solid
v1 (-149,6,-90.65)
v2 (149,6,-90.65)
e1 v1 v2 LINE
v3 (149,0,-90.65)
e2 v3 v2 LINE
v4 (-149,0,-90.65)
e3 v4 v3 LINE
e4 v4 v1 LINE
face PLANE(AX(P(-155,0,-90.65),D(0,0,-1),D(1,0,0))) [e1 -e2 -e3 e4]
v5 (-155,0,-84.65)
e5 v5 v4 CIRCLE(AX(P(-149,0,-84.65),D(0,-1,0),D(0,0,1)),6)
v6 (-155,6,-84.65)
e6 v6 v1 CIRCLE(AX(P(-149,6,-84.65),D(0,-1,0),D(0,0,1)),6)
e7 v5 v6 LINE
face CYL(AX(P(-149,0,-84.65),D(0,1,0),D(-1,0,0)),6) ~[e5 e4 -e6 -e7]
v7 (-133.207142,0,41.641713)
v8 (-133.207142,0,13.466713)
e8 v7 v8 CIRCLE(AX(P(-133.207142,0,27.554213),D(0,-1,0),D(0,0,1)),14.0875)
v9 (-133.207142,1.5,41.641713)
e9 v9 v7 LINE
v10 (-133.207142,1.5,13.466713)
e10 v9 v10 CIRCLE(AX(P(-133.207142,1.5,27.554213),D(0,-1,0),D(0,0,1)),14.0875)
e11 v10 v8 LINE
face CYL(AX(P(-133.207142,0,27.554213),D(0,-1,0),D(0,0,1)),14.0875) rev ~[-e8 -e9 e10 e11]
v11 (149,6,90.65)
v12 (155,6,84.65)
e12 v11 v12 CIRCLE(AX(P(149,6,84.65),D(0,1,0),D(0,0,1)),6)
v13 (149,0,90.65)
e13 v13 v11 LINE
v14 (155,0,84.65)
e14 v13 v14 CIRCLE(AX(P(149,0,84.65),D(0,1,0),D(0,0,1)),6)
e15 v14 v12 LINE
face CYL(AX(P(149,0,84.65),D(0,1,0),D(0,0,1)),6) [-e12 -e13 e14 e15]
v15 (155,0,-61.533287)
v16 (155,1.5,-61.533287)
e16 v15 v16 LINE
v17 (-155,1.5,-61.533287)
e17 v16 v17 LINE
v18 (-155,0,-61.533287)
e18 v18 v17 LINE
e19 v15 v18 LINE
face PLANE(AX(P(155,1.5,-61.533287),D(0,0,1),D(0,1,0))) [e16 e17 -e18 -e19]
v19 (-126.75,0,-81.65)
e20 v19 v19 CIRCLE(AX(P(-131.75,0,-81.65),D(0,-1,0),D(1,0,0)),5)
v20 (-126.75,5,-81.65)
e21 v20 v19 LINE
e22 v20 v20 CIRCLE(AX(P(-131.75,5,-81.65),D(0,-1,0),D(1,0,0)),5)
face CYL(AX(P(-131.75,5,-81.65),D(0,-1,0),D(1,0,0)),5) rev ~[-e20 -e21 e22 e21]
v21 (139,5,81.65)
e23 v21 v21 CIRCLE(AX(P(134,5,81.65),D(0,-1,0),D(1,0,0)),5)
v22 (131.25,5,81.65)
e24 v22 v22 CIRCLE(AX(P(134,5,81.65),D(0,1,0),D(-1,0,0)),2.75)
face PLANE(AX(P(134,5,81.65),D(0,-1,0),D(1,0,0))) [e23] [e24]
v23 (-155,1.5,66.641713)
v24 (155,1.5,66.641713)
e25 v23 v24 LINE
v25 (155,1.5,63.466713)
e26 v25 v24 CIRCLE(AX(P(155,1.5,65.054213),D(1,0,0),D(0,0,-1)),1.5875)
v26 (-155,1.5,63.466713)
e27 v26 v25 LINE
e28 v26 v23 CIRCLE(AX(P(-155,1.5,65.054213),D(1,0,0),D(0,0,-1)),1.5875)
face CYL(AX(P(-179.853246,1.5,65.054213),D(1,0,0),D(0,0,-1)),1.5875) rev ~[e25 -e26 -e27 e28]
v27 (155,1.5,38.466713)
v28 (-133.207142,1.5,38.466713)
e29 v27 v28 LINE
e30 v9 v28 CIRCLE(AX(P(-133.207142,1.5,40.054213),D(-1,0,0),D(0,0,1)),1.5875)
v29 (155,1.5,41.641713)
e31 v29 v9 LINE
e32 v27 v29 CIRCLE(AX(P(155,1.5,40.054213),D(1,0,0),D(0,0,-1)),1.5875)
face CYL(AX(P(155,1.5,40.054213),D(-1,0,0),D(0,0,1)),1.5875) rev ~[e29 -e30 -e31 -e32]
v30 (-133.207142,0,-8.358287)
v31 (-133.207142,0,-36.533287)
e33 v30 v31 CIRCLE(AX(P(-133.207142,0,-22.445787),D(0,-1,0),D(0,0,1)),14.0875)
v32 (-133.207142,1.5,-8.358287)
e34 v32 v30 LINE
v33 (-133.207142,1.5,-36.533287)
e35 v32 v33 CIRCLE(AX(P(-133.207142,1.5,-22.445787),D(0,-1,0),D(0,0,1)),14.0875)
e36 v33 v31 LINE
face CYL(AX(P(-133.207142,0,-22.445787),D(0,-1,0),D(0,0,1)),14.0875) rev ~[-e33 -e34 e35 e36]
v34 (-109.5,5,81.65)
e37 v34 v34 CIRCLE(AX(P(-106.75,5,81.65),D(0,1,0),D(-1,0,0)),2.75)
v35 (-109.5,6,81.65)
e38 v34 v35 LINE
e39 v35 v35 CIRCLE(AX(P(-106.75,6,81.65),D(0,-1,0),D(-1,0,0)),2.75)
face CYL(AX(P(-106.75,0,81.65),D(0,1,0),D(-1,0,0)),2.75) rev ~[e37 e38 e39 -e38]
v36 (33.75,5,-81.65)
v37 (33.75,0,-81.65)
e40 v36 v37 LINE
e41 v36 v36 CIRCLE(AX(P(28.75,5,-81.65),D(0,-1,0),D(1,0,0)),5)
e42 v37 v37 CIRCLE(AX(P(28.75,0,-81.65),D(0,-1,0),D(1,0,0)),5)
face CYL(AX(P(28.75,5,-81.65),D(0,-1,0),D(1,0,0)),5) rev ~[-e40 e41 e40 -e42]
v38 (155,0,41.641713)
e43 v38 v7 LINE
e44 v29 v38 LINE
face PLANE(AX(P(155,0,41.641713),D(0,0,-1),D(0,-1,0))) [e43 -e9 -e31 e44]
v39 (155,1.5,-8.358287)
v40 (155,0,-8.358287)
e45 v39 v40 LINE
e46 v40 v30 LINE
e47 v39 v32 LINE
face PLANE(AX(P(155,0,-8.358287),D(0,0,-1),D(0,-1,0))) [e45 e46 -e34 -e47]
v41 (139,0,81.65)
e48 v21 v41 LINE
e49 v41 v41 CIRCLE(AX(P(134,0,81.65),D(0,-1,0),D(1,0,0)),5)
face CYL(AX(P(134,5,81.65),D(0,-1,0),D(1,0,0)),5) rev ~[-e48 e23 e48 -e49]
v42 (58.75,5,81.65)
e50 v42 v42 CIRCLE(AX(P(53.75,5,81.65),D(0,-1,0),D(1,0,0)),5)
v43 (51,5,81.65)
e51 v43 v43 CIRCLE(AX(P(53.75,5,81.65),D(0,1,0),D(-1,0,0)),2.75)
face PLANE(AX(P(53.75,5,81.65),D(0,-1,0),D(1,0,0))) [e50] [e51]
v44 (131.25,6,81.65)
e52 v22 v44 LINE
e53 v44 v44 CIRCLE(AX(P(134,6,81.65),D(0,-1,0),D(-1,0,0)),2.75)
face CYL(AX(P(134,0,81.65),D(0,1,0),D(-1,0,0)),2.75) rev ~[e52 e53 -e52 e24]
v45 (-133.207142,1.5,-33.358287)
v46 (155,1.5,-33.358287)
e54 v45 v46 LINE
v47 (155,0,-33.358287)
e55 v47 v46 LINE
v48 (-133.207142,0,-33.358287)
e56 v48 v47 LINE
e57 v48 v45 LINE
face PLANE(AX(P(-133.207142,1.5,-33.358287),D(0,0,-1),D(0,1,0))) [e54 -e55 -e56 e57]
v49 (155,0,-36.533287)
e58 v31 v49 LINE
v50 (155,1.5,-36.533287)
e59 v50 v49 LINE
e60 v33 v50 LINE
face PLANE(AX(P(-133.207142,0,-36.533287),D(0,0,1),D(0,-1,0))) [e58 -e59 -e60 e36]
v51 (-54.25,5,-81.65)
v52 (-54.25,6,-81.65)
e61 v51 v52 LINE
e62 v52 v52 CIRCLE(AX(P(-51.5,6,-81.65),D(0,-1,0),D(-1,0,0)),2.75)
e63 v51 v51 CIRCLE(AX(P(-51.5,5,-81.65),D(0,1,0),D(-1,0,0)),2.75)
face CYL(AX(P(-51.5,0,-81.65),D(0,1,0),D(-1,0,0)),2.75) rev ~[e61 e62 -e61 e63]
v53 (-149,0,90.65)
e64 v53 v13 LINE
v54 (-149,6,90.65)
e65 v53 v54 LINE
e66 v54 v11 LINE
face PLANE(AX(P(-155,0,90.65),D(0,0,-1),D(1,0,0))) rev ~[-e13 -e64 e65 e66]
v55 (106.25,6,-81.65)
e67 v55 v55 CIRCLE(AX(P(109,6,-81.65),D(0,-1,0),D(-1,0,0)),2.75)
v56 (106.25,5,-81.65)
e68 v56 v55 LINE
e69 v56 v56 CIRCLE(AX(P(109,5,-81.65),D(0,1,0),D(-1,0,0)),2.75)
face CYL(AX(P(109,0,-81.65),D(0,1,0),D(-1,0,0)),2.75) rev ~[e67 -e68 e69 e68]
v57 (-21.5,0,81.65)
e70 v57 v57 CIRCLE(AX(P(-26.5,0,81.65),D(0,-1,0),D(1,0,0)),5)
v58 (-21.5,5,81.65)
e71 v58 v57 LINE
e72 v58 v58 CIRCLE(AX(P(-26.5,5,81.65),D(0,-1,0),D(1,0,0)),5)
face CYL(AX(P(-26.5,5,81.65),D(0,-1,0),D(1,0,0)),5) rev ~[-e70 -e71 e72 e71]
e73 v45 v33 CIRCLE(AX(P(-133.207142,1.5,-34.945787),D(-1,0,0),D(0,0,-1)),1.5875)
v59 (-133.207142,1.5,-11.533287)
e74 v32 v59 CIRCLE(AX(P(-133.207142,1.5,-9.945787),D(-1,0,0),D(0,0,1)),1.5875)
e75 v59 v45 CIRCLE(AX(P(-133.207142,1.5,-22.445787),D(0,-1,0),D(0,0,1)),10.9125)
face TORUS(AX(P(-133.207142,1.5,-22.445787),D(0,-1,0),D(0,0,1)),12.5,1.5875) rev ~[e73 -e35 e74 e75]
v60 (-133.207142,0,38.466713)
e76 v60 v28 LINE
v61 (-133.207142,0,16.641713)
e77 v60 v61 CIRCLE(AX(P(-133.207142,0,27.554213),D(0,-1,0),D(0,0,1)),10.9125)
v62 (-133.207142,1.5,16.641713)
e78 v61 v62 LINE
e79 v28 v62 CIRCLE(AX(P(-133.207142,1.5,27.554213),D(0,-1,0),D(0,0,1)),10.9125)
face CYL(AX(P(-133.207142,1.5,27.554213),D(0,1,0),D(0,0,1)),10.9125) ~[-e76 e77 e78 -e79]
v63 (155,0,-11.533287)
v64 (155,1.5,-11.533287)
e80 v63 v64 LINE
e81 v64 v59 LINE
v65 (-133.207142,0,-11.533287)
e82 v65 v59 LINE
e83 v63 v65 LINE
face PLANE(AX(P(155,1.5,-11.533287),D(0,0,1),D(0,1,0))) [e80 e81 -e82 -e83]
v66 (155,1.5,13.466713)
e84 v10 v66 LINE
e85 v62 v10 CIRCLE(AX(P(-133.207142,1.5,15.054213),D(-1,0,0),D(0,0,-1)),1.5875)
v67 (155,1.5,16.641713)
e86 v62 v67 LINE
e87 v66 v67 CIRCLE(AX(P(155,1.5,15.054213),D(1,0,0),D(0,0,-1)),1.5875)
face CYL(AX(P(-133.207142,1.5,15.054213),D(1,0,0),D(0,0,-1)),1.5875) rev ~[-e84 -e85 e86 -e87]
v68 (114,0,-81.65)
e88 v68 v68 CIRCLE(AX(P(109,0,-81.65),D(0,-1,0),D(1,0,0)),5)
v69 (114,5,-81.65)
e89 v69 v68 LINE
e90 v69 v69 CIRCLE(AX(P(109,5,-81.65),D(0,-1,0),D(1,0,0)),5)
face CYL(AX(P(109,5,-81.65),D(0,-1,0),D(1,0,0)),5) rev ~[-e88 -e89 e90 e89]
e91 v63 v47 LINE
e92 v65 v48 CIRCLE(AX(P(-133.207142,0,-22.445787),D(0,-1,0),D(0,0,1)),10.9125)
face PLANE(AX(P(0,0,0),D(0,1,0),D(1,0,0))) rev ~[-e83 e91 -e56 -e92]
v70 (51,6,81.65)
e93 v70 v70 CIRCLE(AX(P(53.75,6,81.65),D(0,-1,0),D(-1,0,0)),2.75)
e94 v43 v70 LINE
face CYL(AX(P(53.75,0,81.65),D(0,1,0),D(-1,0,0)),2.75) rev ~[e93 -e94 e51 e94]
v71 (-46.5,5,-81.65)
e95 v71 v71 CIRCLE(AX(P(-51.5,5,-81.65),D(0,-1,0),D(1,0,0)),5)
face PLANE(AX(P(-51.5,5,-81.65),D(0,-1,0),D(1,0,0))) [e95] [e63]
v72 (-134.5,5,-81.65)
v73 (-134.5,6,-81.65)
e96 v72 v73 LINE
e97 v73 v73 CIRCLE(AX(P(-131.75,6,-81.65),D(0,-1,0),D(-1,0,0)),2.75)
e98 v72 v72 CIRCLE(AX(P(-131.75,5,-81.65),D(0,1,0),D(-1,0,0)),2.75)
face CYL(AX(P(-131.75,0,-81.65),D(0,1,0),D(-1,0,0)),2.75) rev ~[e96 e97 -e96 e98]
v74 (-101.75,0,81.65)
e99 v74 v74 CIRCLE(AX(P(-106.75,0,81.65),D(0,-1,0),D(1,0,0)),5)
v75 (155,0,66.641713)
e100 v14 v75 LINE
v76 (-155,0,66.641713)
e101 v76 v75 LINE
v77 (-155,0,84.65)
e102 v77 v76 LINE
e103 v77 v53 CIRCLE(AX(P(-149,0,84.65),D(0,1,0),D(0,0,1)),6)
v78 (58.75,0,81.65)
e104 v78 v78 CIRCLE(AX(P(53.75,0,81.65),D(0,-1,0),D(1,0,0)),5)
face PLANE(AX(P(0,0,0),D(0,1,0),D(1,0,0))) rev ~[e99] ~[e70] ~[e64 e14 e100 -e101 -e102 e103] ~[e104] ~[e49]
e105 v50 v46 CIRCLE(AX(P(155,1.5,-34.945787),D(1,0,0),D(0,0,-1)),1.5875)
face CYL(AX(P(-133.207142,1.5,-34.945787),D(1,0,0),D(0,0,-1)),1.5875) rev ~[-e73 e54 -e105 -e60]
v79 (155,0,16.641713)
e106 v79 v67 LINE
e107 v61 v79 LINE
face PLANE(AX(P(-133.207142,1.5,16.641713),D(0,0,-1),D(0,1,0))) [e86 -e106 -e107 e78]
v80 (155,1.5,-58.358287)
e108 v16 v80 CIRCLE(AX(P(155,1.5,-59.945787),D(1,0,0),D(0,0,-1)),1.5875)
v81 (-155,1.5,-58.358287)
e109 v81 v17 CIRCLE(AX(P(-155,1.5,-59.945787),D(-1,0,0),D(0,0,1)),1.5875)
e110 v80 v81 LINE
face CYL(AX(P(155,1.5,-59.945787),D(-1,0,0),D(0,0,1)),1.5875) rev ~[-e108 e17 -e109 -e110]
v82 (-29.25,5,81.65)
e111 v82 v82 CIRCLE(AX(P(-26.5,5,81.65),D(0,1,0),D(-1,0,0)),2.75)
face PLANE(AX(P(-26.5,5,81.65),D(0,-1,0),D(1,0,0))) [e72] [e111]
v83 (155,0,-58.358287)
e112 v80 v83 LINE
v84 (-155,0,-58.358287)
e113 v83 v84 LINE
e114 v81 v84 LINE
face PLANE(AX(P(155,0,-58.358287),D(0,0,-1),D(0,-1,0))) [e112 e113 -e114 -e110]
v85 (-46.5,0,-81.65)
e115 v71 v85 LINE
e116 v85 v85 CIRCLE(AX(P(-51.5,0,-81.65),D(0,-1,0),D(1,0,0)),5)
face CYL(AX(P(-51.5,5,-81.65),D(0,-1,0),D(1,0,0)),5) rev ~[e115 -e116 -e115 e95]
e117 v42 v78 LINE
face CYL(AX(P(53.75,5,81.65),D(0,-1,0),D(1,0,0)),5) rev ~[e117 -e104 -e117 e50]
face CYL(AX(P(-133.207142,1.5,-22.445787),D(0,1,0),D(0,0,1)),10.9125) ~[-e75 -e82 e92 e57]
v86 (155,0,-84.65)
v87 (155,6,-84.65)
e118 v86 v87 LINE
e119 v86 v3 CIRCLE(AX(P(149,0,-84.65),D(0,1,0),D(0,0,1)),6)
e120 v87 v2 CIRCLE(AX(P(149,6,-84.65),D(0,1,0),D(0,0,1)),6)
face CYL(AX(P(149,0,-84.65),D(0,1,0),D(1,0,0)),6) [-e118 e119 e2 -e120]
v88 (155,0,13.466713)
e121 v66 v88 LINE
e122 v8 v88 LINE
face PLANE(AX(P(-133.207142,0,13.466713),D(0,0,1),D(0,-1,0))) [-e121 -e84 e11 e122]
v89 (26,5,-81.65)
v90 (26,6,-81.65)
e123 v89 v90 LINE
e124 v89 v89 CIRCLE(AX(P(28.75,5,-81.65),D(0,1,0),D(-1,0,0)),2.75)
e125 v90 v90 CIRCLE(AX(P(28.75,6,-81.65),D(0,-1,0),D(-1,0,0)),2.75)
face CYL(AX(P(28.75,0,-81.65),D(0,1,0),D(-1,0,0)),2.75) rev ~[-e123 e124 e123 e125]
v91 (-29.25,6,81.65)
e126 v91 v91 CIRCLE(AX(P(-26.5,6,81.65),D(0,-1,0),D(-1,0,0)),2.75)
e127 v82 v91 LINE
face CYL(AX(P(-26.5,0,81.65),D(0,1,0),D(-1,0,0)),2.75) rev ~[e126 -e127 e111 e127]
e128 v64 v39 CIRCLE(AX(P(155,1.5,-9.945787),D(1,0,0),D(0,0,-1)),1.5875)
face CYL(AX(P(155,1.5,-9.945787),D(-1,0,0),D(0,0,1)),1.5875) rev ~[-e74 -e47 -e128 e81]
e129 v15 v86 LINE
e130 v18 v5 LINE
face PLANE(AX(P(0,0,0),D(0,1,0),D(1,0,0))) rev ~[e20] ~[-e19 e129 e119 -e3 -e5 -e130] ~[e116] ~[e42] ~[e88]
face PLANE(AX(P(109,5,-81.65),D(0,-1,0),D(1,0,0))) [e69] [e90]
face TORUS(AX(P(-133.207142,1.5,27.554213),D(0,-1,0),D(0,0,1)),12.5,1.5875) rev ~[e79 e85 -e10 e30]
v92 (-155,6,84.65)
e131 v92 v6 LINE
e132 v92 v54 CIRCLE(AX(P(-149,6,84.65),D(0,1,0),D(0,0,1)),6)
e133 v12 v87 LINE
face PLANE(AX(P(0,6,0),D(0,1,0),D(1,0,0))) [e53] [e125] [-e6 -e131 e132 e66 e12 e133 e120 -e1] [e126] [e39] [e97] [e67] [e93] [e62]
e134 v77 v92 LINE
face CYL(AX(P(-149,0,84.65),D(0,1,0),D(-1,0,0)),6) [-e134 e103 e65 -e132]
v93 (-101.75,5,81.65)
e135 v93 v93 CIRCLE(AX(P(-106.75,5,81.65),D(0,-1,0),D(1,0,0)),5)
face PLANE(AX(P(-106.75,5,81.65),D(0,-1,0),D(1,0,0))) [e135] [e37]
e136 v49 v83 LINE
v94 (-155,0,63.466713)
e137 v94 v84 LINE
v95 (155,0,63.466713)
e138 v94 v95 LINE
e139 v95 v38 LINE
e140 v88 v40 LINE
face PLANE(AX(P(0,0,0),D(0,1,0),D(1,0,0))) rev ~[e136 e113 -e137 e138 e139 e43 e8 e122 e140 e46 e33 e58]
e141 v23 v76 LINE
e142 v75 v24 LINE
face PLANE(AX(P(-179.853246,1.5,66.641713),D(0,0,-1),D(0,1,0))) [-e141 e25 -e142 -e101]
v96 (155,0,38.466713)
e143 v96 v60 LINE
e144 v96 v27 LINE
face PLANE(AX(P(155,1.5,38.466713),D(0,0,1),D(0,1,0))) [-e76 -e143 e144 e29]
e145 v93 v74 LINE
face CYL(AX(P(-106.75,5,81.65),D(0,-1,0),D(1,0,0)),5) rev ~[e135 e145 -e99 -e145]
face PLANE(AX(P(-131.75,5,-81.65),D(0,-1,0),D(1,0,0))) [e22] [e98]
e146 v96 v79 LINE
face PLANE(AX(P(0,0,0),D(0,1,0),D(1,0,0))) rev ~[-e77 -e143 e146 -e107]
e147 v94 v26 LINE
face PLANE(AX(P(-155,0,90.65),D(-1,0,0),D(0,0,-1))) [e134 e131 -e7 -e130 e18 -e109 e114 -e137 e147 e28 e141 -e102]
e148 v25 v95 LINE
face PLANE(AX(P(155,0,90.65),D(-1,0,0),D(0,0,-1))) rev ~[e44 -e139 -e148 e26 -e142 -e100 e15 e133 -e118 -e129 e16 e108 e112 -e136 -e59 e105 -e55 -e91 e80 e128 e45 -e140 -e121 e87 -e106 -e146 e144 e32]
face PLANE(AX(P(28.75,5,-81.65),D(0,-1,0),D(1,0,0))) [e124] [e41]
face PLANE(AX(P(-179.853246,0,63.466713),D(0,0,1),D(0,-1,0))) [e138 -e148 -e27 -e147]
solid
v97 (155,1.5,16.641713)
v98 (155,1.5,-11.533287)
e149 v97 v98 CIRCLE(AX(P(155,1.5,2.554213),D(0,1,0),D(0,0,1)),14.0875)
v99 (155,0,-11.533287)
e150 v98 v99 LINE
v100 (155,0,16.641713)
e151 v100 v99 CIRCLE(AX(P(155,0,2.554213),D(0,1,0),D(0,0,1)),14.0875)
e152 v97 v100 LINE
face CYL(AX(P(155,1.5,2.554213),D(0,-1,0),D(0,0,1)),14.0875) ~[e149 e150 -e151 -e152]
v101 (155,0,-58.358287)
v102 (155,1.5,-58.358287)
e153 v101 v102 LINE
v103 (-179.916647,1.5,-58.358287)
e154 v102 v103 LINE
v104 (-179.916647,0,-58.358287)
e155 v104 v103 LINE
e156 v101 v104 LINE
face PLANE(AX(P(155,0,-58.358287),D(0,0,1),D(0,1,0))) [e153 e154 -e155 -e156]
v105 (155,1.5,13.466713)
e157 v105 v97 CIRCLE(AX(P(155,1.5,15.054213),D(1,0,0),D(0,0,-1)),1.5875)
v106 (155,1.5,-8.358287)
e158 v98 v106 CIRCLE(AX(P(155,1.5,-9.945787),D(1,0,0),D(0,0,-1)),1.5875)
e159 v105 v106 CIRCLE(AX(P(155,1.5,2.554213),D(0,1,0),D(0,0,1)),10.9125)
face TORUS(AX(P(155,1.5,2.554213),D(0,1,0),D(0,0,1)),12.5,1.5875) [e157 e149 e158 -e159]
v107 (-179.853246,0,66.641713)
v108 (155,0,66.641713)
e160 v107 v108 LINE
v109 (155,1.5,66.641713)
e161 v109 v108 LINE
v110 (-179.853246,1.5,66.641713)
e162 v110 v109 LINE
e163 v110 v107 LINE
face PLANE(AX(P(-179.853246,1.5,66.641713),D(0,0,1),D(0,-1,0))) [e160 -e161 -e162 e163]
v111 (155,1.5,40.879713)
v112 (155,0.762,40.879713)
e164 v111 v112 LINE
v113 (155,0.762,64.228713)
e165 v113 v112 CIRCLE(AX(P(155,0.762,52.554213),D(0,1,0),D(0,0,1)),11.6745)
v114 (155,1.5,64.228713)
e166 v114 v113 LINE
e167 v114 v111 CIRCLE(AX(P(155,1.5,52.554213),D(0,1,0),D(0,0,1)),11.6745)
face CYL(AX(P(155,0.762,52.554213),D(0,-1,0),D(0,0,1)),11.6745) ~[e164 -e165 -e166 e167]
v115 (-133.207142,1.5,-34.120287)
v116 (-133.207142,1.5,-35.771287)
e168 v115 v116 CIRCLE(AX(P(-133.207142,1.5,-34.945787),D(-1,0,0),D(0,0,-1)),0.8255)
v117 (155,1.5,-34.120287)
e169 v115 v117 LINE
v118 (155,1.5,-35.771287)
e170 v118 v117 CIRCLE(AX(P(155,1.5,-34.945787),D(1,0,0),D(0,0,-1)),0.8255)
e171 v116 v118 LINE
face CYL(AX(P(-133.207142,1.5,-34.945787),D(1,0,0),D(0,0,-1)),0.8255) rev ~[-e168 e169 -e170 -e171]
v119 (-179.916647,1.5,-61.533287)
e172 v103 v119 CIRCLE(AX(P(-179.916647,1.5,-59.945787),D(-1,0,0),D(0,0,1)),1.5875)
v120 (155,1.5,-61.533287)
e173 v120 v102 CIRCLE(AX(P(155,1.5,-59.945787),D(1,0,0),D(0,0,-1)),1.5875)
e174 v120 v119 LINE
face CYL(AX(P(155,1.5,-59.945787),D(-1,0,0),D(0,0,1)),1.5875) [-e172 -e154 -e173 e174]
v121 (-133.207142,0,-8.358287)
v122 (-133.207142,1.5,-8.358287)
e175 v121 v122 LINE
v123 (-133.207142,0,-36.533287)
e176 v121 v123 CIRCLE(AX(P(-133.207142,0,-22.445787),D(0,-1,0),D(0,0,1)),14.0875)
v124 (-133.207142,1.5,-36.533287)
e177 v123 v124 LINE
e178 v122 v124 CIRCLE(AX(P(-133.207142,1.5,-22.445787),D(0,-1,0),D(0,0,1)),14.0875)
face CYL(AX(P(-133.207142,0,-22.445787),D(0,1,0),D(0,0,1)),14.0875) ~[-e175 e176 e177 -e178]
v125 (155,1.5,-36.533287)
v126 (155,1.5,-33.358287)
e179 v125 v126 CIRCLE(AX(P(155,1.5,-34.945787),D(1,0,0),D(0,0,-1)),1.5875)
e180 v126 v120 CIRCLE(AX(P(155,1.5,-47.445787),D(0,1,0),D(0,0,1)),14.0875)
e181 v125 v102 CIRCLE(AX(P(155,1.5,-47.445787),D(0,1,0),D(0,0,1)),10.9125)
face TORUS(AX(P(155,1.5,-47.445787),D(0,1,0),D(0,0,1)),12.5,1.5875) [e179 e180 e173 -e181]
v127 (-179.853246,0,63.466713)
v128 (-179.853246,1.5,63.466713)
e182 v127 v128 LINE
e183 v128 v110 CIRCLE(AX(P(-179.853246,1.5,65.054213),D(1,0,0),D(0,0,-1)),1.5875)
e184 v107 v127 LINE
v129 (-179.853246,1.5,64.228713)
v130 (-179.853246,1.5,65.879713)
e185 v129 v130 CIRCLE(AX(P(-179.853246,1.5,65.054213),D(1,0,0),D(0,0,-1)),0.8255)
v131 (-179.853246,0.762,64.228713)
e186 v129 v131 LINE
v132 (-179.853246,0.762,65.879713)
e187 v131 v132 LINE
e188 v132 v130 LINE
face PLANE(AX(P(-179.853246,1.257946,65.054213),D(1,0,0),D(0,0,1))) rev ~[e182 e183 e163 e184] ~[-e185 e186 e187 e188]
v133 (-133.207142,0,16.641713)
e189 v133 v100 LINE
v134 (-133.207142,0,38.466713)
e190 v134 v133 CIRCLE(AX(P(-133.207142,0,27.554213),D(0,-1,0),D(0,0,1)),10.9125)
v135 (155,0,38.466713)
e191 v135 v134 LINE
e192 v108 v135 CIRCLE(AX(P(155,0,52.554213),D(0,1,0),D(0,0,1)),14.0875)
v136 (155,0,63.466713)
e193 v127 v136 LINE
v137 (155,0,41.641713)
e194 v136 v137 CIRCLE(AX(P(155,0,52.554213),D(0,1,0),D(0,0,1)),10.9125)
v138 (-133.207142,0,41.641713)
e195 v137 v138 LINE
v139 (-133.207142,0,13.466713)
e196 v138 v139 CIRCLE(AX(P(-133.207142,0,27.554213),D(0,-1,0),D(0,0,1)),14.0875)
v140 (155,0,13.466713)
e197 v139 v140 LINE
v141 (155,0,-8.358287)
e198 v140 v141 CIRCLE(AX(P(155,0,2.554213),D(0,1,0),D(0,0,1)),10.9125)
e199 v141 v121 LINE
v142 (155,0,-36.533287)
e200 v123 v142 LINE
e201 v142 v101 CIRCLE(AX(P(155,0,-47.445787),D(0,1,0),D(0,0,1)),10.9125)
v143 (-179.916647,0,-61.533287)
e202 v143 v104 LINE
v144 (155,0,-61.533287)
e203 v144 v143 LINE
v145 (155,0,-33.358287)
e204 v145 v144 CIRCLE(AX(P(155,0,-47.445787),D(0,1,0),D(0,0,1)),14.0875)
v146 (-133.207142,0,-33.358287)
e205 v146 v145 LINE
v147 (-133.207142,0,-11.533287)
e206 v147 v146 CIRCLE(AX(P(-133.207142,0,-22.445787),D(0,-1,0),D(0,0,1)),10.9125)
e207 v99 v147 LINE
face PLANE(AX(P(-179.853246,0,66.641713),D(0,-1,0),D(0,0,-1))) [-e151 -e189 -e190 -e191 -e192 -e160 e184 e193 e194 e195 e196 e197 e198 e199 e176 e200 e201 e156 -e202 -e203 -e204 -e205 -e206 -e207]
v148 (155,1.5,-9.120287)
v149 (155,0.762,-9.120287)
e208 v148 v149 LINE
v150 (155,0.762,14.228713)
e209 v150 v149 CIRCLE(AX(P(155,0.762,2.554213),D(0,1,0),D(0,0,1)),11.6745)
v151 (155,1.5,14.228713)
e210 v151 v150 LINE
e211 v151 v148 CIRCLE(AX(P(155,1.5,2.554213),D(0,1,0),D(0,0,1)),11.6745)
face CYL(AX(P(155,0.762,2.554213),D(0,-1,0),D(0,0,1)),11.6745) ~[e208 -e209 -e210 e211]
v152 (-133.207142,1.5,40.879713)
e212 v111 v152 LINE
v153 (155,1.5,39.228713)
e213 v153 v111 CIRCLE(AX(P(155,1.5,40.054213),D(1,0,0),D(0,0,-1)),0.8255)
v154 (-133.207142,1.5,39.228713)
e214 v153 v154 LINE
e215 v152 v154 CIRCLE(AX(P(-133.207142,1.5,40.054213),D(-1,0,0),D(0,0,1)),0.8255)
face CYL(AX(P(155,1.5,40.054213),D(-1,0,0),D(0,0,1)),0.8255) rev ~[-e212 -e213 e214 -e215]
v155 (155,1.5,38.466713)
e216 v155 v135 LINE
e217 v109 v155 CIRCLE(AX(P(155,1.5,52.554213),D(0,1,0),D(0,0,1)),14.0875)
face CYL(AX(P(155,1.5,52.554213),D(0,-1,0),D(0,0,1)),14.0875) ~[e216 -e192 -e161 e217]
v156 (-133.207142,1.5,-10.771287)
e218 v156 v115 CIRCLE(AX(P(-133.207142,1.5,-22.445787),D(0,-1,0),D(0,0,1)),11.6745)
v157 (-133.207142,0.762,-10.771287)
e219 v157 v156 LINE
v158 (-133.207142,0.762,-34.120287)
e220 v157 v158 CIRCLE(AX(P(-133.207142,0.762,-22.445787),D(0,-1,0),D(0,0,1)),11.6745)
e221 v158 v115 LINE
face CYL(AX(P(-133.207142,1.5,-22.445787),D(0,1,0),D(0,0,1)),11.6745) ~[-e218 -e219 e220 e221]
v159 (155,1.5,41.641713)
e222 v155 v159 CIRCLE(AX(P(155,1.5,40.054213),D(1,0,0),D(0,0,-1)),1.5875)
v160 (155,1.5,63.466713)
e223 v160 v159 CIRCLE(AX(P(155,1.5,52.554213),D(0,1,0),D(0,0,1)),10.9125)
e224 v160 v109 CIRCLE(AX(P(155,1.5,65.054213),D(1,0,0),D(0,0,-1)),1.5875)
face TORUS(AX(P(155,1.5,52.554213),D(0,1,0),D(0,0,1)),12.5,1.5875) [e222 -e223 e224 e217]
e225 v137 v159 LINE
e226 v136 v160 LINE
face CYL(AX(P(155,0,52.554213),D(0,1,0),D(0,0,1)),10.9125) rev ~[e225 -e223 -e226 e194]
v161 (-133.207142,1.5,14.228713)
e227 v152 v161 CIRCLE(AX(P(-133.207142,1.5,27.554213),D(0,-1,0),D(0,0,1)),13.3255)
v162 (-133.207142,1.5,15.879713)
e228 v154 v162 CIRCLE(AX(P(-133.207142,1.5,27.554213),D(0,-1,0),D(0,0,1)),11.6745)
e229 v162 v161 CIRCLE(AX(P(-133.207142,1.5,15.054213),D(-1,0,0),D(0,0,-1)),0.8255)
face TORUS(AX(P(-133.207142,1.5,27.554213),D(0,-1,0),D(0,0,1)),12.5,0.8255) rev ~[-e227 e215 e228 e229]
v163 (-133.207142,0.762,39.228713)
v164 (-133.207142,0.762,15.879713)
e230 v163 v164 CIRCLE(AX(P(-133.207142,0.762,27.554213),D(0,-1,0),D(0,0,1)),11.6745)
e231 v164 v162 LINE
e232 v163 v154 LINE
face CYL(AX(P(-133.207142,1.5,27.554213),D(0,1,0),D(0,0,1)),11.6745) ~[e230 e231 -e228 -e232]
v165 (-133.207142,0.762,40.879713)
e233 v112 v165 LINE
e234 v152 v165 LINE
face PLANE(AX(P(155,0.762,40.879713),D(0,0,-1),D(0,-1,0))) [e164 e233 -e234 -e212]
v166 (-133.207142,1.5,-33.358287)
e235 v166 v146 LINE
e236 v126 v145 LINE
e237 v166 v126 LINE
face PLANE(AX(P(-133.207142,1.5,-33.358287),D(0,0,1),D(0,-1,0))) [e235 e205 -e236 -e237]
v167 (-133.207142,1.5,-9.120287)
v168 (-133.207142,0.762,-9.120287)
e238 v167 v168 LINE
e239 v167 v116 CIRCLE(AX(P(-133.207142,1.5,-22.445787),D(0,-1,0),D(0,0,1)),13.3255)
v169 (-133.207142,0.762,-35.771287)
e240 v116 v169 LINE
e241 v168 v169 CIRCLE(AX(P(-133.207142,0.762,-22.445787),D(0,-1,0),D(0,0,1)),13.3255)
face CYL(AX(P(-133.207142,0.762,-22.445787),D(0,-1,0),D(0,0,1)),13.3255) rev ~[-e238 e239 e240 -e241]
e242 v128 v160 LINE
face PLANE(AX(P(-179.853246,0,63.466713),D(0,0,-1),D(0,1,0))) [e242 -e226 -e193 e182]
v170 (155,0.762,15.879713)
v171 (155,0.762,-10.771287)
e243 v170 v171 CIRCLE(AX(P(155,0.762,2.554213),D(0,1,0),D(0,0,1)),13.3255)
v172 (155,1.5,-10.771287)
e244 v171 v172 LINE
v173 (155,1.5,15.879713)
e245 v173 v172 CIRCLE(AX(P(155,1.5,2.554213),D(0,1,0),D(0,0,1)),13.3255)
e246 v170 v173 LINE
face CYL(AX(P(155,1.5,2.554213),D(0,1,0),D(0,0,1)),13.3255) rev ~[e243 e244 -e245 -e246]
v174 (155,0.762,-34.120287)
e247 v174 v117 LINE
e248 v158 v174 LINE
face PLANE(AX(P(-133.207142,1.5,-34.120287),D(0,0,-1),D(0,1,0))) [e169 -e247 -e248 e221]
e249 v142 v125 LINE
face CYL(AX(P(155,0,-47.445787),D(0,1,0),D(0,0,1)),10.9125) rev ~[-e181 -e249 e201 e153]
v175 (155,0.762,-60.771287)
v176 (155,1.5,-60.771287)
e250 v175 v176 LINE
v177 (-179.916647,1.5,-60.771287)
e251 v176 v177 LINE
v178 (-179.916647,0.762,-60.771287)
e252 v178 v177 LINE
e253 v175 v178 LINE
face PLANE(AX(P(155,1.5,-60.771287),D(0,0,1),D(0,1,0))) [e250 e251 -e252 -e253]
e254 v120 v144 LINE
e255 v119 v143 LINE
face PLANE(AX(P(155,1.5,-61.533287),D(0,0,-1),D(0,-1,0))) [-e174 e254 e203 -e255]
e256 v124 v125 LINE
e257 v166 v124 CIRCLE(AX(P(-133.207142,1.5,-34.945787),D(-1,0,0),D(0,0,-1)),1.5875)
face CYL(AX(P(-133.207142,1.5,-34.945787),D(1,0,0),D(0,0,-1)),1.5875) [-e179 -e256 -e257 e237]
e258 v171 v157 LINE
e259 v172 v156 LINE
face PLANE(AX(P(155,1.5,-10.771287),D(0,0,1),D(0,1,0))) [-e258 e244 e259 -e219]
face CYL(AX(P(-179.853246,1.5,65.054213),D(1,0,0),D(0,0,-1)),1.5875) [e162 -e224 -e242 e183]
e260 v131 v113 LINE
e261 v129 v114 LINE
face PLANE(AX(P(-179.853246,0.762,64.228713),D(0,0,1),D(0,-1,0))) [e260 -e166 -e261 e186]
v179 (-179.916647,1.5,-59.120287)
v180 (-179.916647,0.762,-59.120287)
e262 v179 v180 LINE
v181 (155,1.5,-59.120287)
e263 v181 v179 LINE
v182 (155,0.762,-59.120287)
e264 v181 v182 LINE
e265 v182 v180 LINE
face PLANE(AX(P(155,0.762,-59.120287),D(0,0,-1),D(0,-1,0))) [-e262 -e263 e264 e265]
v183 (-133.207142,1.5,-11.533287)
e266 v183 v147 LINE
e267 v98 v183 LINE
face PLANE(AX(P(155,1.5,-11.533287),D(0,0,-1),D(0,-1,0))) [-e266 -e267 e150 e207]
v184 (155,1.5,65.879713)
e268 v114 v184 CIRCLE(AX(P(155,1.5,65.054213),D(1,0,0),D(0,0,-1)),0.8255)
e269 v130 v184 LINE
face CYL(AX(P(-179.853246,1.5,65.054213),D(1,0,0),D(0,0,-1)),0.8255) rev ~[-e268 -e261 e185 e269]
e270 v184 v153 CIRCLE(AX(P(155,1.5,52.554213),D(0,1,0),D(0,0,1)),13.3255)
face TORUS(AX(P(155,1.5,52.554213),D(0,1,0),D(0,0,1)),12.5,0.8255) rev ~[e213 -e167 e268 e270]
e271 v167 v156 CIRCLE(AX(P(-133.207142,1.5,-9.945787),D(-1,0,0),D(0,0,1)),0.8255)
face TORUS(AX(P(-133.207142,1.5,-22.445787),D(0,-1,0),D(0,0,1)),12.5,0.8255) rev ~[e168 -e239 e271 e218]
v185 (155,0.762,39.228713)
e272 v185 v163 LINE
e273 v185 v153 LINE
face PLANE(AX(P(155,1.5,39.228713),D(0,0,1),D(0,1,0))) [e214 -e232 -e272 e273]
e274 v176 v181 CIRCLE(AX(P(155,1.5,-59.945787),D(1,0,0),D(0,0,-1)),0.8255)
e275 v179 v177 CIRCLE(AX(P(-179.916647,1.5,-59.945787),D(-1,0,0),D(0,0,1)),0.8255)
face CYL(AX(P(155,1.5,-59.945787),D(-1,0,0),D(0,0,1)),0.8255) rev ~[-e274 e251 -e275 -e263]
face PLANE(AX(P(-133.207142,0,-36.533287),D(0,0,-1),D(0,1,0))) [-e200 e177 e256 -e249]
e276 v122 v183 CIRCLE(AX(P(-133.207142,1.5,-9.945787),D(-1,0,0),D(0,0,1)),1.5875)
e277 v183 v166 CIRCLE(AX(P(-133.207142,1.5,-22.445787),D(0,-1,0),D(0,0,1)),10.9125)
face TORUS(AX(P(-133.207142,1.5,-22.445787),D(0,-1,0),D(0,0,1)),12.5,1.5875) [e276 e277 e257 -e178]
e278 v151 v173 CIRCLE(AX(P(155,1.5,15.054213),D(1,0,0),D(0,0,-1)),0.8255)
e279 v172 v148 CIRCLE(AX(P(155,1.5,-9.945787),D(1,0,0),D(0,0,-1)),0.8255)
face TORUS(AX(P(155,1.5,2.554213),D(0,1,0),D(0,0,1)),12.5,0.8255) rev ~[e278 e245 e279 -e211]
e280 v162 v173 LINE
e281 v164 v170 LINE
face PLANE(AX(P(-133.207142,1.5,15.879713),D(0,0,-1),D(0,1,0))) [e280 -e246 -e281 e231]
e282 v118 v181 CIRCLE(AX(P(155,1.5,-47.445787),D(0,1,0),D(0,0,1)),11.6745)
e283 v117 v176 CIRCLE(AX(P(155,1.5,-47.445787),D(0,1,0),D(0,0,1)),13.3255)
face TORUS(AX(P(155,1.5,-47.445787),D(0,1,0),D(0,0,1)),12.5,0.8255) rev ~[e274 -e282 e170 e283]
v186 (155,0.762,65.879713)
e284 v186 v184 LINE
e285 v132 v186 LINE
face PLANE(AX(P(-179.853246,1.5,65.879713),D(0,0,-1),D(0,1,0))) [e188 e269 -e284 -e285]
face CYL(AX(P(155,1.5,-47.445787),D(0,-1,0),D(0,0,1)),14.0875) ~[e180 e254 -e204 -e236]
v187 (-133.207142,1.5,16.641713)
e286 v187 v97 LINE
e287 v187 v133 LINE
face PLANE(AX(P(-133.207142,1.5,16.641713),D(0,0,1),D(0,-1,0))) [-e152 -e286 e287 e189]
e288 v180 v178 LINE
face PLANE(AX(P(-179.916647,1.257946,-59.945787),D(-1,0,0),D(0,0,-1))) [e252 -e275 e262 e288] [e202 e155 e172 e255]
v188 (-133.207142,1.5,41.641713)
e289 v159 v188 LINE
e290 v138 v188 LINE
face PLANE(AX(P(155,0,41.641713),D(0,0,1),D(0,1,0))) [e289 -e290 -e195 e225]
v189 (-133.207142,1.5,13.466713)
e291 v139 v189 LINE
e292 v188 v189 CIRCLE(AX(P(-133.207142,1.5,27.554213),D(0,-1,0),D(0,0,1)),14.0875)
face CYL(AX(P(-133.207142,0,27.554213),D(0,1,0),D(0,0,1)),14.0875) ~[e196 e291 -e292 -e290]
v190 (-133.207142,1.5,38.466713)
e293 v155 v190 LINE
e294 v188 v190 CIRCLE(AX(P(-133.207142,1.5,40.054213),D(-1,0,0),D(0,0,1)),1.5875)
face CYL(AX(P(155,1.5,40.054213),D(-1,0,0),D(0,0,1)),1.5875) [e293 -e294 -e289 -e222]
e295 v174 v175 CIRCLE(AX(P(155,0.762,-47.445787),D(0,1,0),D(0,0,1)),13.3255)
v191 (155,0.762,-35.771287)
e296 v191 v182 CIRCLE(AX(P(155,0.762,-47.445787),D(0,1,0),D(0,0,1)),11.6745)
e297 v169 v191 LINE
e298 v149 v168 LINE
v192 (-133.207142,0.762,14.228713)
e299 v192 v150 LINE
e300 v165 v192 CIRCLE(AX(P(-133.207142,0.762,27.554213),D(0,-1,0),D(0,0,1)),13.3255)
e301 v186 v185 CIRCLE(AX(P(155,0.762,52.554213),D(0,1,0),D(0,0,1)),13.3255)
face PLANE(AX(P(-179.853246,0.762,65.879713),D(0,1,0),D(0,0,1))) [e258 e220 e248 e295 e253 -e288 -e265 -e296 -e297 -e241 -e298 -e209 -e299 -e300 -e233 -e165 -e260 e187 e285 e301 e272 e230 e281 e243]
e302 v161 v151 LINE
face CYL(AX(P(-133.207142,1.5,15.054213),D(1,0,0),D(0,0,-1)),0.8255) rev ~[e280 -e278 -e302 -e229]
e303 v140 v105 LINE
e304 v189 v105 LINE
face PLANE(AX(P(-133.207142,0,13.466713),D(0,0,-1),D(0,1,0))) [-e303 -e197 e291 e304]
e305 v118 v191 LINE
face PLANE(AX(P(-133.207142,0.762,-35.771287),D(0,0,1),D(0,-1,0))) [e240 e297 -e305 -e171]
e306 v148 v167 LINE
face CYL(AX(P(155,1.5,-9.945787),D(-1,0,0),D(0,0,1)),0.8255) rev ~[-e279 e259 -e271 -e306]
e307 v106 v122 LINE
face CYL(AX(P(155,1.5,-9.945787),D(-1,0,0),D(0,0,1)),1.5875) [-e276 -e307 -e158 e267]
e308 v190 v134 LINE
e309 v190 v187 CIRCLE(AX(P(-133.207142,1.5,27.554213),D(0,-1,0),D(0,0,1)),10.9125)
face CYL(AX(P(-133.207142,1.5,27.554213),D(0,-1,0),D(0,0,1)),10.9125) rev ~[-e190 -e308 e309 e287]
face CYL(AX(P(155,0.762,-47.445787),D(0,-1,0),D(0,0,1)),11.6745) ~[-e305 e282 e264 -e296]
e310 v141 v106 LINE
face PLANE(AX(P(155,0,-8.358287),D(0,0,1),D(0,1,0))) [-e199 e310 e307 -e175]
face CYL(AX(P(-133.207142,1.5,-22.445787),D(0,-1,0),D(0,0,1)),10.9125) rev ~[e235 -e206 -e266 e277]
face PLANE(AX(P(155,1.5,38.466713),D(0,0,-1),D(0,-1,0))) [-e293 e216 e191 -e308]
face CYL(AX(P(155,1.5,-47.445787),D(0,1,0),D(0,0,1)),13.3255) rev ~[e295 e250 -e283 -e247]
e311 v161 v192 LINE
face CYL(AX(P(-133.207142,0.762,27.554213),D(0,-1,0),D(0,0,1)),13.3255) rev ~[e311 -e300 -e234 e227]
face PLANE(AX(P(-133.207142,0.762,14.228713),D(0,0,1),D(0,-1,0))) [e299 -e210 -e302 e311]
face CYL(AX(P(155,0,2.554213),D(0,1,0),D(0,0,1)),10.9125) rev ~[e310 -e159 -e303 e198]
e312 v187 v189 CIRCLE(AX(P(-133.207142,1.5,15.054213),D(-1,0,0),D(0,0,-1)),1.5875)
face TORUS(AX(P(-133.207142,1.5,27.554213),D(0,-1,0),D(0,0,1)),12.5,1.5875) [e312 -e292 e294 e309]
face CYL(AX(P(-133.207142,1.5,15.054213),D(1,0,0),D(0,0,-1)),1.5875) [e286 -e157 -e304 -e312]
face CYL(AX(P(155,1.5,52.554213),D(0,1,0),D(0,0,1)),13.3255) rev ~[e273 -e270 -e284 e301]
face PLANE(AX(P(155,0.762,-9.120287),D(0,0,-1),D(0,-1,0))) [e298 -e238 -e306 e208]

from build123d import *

# Parameters (mm, degrees)
SKETCH1_W                      = 310
SKETCH1_H                      = 181.3
BOSS_EXTRUDE1_DEPTH            = 6
FILLET1_R                      = 6
CBORE_FOR_M5_SHCS1_D           = 5.5
CBORE_FOR_M5_SHCS1_DEPTH       = 6
CBORE_FOR_M5_SHCS1_CBORE_D     = 10
CBORE_FOR_M5_SHCS1_CBORE_DEPTH = 5
CBORE_FOR_M5_SHCS1_TIP         = 1.652366702


with BuildPart() as part:
    # Sketch1 → Boss-Extrude1 (new body)
    with BuildSketch(Plane(origin=(0, 0, 0), x_dir=(1, 0, 0), z_dir=(0, 1, 0))):
        Rectangle(SKETCH1_W, SKETCH1_H)
    extrude(amount=BOSS_EXTRUDE1_DEPTH)

    # Fillet1
    fillet1_edges = [part.edges().sort_by_distance(p)[0] for p in [
        (155, 3, 90.65),
        (-155, 3, 90.65),
        (-155, 3, -90.65),
        (155, 3, -90.65),
    ]]
    fillet(fillet1_edges, radius=FILLET1_R)

    # CBORE for M5 SHCS1
    with Locations(Plane.XZ):
        with Locations((-131.75, -81.65), (-106.75, 81.65), (-26.5, 81.65), (134, 81.65), (-51.5, -81.65), (28.75, -81.65), (109, -81.65), (53.75, 81.65)):
            CounterBoreHole(CBORE_FOR_M5_SHCS1_D / 2, CBORE_FOR_M5_SHCS1_CBORE_D / 2, CBORE_FOR_M5_SHCS1_CBORE_DEPTH, depth=CBORE_FOR_M5_SHCS1_DEPTH)
            with Locations((0, 0, -(CBORE_FOR_M5_SHCS1_DEPTH + CBORE_FOR_M5_SHCS1_TIP / 2))):  # 118° drill point
                Cone(0, CBORE_FOR_M5_SHCS1_D / 2, CBORE_FOR_M5_SHCS1_TIP, mode=Mode.SUBTRACT)

    # Cut-Sweep2: sweep along a path in Sketch15
    with BuildLine(Plane(origin=(0, 0, 0), x_dir=(-1, 0, 0), z_dir=(0, -1, 0))) as cut_sweep2_path:
        Line((179.853246079, -65.054213185), (155, -65.054213185))
        Line((155, -65.054213185), (-155, -65.054213185))
        ThreePointArc((-155, -65.054213185), (-167.5, -52.554213185), (-155, -40.054213185))
        Line((-155, -40.054213185), (133.207142099, -40.054213185))
        ThreePointArc((133.207142099, -40.054213185), (145.707142099, -27.554213185), (133.207142099, -15.054213185))
        Line((133.207142099, -15.054213185), (-155, -15.054213185))
        ThreePointArc((-155, -15.054213185), (-167.5, -2.554213185), (-155, 9.945786815))
        Line((-155, 9.945786815), (133.207142099, 9.945786815))
        ThreePointArc((133.207142099, 9.945786815), (145.707142099, 22.445786815), (133.207142099, 34.945786815))
        Line((133.207142099, 34.945786815), (-155, 34.945786815))
        ThreePointArc((-155, 34.945786815), (-167.5, 47.445786815), (-155, 59.945786815))
        Line((-155, 59.945786815), (155.063400619, 59.945786815))
        Line((155.063400619, 59.945786815), (179.916646698, 59.945786815))
    # Sketch16 → Cut-Sweep2 (sweep, cut)
    with BuildSketch(Plane.ZY.offset(155)):
        with BuildLine():
            Line((66.641713185, 1.5), (66.641713185, 0))
            Line((66.641713185, 0), (63.466713185, 0))
            Line((63.466713185, 0), (63.466713185, 1.5))
            ThreePointArc((63.466713185, 1.5), (65.054213185, 3.0875), (66.641713185, 1.5))
        make_face()
    sweep(path=cut_sweep2_path.line, mode=Mode.SUBTRACT)


with BuildPart() as body_2:
    # Sweep1: sweep along a path in Sketch15<2>
    with BuildLine(Plane(origin=(0, 0, 0), x_dir=(-1, 0, 0), z_dir=(0, -1, 0))) as sweep1_path:
        Line((179.853246079, -65.054213185), (155, -65.054213185))
        Line((155, -65.054213185), (-155, -65.054213185))
        ThreePointArc((-155, -65.054213185), (-167.5, -52.554213185), (-155, -40.054213185))
        Line((-155, -40.054213185), (133.207142099, -40.054213185))
        ThreePointArc((133.207142099, -40.054213185), (145.707142099, -27.554213185), (133.207142099, -15.054213185))
        Line((133.207142099, -15.054213185), (-155, -15.054213185))
        ThreePointArc((-155, -15.054213185), (-167.5, -2.554213185), (-155, 9.945786815))
        Line((-155, 9.945786815), (133.207142099, 9.945786815))
        ThreePointArc((133.207142099, 9.945786815), (145.707142099, 22.445786815), (133.207142099, 34.945786815))
        Line((133.207142099, 34.945786815), (-155, 34.945786815))
        ThreePointArc((-155, 34.945786815), (-167.5, 47.445786815), (-155, 59.945786815))
        Line((-155, 59.945786815), (155.063400619, 59.945786815))
        Line((155.063400619, 59.945786815), (179.916646698, 59.945786815))
    # Sketch17 → Sweep1 (sweep)
    with BuildSketch(Plane.ZY.offset(155)):
        with BuildLine():
            Line((-61.533286815, 1.5), (-61.533286815, 0))
            Line((-61.533286815, 0), (-58.358286815, 0))
            Line((-58.358286815, 0), (-58.358286815, 1.5))
            ThreePointArc((-58.358286815, 1.5), (-59.945786815, 3.0875), (-61.533286815, 1.5))
        make_face()
        with BuildLine():
            Line((-60.771286815, 1.5), (-60.771286815, 0.762))
            Line((-60.771286815, 0.762), (-59.120286815, 0.762))
            Line((-59.120286815, 0.762), (-59.120286815, 1.5))
            ThreePointArc((-59.120286815, 1.5), (-59.945786815, 2.3255), (-60.771286815, 1.5))
        make_face(mode=Mode.SUBTRACT)
    sweep(path=sweep1_path.line)


solid = Compound([part.part, body_2.part])
